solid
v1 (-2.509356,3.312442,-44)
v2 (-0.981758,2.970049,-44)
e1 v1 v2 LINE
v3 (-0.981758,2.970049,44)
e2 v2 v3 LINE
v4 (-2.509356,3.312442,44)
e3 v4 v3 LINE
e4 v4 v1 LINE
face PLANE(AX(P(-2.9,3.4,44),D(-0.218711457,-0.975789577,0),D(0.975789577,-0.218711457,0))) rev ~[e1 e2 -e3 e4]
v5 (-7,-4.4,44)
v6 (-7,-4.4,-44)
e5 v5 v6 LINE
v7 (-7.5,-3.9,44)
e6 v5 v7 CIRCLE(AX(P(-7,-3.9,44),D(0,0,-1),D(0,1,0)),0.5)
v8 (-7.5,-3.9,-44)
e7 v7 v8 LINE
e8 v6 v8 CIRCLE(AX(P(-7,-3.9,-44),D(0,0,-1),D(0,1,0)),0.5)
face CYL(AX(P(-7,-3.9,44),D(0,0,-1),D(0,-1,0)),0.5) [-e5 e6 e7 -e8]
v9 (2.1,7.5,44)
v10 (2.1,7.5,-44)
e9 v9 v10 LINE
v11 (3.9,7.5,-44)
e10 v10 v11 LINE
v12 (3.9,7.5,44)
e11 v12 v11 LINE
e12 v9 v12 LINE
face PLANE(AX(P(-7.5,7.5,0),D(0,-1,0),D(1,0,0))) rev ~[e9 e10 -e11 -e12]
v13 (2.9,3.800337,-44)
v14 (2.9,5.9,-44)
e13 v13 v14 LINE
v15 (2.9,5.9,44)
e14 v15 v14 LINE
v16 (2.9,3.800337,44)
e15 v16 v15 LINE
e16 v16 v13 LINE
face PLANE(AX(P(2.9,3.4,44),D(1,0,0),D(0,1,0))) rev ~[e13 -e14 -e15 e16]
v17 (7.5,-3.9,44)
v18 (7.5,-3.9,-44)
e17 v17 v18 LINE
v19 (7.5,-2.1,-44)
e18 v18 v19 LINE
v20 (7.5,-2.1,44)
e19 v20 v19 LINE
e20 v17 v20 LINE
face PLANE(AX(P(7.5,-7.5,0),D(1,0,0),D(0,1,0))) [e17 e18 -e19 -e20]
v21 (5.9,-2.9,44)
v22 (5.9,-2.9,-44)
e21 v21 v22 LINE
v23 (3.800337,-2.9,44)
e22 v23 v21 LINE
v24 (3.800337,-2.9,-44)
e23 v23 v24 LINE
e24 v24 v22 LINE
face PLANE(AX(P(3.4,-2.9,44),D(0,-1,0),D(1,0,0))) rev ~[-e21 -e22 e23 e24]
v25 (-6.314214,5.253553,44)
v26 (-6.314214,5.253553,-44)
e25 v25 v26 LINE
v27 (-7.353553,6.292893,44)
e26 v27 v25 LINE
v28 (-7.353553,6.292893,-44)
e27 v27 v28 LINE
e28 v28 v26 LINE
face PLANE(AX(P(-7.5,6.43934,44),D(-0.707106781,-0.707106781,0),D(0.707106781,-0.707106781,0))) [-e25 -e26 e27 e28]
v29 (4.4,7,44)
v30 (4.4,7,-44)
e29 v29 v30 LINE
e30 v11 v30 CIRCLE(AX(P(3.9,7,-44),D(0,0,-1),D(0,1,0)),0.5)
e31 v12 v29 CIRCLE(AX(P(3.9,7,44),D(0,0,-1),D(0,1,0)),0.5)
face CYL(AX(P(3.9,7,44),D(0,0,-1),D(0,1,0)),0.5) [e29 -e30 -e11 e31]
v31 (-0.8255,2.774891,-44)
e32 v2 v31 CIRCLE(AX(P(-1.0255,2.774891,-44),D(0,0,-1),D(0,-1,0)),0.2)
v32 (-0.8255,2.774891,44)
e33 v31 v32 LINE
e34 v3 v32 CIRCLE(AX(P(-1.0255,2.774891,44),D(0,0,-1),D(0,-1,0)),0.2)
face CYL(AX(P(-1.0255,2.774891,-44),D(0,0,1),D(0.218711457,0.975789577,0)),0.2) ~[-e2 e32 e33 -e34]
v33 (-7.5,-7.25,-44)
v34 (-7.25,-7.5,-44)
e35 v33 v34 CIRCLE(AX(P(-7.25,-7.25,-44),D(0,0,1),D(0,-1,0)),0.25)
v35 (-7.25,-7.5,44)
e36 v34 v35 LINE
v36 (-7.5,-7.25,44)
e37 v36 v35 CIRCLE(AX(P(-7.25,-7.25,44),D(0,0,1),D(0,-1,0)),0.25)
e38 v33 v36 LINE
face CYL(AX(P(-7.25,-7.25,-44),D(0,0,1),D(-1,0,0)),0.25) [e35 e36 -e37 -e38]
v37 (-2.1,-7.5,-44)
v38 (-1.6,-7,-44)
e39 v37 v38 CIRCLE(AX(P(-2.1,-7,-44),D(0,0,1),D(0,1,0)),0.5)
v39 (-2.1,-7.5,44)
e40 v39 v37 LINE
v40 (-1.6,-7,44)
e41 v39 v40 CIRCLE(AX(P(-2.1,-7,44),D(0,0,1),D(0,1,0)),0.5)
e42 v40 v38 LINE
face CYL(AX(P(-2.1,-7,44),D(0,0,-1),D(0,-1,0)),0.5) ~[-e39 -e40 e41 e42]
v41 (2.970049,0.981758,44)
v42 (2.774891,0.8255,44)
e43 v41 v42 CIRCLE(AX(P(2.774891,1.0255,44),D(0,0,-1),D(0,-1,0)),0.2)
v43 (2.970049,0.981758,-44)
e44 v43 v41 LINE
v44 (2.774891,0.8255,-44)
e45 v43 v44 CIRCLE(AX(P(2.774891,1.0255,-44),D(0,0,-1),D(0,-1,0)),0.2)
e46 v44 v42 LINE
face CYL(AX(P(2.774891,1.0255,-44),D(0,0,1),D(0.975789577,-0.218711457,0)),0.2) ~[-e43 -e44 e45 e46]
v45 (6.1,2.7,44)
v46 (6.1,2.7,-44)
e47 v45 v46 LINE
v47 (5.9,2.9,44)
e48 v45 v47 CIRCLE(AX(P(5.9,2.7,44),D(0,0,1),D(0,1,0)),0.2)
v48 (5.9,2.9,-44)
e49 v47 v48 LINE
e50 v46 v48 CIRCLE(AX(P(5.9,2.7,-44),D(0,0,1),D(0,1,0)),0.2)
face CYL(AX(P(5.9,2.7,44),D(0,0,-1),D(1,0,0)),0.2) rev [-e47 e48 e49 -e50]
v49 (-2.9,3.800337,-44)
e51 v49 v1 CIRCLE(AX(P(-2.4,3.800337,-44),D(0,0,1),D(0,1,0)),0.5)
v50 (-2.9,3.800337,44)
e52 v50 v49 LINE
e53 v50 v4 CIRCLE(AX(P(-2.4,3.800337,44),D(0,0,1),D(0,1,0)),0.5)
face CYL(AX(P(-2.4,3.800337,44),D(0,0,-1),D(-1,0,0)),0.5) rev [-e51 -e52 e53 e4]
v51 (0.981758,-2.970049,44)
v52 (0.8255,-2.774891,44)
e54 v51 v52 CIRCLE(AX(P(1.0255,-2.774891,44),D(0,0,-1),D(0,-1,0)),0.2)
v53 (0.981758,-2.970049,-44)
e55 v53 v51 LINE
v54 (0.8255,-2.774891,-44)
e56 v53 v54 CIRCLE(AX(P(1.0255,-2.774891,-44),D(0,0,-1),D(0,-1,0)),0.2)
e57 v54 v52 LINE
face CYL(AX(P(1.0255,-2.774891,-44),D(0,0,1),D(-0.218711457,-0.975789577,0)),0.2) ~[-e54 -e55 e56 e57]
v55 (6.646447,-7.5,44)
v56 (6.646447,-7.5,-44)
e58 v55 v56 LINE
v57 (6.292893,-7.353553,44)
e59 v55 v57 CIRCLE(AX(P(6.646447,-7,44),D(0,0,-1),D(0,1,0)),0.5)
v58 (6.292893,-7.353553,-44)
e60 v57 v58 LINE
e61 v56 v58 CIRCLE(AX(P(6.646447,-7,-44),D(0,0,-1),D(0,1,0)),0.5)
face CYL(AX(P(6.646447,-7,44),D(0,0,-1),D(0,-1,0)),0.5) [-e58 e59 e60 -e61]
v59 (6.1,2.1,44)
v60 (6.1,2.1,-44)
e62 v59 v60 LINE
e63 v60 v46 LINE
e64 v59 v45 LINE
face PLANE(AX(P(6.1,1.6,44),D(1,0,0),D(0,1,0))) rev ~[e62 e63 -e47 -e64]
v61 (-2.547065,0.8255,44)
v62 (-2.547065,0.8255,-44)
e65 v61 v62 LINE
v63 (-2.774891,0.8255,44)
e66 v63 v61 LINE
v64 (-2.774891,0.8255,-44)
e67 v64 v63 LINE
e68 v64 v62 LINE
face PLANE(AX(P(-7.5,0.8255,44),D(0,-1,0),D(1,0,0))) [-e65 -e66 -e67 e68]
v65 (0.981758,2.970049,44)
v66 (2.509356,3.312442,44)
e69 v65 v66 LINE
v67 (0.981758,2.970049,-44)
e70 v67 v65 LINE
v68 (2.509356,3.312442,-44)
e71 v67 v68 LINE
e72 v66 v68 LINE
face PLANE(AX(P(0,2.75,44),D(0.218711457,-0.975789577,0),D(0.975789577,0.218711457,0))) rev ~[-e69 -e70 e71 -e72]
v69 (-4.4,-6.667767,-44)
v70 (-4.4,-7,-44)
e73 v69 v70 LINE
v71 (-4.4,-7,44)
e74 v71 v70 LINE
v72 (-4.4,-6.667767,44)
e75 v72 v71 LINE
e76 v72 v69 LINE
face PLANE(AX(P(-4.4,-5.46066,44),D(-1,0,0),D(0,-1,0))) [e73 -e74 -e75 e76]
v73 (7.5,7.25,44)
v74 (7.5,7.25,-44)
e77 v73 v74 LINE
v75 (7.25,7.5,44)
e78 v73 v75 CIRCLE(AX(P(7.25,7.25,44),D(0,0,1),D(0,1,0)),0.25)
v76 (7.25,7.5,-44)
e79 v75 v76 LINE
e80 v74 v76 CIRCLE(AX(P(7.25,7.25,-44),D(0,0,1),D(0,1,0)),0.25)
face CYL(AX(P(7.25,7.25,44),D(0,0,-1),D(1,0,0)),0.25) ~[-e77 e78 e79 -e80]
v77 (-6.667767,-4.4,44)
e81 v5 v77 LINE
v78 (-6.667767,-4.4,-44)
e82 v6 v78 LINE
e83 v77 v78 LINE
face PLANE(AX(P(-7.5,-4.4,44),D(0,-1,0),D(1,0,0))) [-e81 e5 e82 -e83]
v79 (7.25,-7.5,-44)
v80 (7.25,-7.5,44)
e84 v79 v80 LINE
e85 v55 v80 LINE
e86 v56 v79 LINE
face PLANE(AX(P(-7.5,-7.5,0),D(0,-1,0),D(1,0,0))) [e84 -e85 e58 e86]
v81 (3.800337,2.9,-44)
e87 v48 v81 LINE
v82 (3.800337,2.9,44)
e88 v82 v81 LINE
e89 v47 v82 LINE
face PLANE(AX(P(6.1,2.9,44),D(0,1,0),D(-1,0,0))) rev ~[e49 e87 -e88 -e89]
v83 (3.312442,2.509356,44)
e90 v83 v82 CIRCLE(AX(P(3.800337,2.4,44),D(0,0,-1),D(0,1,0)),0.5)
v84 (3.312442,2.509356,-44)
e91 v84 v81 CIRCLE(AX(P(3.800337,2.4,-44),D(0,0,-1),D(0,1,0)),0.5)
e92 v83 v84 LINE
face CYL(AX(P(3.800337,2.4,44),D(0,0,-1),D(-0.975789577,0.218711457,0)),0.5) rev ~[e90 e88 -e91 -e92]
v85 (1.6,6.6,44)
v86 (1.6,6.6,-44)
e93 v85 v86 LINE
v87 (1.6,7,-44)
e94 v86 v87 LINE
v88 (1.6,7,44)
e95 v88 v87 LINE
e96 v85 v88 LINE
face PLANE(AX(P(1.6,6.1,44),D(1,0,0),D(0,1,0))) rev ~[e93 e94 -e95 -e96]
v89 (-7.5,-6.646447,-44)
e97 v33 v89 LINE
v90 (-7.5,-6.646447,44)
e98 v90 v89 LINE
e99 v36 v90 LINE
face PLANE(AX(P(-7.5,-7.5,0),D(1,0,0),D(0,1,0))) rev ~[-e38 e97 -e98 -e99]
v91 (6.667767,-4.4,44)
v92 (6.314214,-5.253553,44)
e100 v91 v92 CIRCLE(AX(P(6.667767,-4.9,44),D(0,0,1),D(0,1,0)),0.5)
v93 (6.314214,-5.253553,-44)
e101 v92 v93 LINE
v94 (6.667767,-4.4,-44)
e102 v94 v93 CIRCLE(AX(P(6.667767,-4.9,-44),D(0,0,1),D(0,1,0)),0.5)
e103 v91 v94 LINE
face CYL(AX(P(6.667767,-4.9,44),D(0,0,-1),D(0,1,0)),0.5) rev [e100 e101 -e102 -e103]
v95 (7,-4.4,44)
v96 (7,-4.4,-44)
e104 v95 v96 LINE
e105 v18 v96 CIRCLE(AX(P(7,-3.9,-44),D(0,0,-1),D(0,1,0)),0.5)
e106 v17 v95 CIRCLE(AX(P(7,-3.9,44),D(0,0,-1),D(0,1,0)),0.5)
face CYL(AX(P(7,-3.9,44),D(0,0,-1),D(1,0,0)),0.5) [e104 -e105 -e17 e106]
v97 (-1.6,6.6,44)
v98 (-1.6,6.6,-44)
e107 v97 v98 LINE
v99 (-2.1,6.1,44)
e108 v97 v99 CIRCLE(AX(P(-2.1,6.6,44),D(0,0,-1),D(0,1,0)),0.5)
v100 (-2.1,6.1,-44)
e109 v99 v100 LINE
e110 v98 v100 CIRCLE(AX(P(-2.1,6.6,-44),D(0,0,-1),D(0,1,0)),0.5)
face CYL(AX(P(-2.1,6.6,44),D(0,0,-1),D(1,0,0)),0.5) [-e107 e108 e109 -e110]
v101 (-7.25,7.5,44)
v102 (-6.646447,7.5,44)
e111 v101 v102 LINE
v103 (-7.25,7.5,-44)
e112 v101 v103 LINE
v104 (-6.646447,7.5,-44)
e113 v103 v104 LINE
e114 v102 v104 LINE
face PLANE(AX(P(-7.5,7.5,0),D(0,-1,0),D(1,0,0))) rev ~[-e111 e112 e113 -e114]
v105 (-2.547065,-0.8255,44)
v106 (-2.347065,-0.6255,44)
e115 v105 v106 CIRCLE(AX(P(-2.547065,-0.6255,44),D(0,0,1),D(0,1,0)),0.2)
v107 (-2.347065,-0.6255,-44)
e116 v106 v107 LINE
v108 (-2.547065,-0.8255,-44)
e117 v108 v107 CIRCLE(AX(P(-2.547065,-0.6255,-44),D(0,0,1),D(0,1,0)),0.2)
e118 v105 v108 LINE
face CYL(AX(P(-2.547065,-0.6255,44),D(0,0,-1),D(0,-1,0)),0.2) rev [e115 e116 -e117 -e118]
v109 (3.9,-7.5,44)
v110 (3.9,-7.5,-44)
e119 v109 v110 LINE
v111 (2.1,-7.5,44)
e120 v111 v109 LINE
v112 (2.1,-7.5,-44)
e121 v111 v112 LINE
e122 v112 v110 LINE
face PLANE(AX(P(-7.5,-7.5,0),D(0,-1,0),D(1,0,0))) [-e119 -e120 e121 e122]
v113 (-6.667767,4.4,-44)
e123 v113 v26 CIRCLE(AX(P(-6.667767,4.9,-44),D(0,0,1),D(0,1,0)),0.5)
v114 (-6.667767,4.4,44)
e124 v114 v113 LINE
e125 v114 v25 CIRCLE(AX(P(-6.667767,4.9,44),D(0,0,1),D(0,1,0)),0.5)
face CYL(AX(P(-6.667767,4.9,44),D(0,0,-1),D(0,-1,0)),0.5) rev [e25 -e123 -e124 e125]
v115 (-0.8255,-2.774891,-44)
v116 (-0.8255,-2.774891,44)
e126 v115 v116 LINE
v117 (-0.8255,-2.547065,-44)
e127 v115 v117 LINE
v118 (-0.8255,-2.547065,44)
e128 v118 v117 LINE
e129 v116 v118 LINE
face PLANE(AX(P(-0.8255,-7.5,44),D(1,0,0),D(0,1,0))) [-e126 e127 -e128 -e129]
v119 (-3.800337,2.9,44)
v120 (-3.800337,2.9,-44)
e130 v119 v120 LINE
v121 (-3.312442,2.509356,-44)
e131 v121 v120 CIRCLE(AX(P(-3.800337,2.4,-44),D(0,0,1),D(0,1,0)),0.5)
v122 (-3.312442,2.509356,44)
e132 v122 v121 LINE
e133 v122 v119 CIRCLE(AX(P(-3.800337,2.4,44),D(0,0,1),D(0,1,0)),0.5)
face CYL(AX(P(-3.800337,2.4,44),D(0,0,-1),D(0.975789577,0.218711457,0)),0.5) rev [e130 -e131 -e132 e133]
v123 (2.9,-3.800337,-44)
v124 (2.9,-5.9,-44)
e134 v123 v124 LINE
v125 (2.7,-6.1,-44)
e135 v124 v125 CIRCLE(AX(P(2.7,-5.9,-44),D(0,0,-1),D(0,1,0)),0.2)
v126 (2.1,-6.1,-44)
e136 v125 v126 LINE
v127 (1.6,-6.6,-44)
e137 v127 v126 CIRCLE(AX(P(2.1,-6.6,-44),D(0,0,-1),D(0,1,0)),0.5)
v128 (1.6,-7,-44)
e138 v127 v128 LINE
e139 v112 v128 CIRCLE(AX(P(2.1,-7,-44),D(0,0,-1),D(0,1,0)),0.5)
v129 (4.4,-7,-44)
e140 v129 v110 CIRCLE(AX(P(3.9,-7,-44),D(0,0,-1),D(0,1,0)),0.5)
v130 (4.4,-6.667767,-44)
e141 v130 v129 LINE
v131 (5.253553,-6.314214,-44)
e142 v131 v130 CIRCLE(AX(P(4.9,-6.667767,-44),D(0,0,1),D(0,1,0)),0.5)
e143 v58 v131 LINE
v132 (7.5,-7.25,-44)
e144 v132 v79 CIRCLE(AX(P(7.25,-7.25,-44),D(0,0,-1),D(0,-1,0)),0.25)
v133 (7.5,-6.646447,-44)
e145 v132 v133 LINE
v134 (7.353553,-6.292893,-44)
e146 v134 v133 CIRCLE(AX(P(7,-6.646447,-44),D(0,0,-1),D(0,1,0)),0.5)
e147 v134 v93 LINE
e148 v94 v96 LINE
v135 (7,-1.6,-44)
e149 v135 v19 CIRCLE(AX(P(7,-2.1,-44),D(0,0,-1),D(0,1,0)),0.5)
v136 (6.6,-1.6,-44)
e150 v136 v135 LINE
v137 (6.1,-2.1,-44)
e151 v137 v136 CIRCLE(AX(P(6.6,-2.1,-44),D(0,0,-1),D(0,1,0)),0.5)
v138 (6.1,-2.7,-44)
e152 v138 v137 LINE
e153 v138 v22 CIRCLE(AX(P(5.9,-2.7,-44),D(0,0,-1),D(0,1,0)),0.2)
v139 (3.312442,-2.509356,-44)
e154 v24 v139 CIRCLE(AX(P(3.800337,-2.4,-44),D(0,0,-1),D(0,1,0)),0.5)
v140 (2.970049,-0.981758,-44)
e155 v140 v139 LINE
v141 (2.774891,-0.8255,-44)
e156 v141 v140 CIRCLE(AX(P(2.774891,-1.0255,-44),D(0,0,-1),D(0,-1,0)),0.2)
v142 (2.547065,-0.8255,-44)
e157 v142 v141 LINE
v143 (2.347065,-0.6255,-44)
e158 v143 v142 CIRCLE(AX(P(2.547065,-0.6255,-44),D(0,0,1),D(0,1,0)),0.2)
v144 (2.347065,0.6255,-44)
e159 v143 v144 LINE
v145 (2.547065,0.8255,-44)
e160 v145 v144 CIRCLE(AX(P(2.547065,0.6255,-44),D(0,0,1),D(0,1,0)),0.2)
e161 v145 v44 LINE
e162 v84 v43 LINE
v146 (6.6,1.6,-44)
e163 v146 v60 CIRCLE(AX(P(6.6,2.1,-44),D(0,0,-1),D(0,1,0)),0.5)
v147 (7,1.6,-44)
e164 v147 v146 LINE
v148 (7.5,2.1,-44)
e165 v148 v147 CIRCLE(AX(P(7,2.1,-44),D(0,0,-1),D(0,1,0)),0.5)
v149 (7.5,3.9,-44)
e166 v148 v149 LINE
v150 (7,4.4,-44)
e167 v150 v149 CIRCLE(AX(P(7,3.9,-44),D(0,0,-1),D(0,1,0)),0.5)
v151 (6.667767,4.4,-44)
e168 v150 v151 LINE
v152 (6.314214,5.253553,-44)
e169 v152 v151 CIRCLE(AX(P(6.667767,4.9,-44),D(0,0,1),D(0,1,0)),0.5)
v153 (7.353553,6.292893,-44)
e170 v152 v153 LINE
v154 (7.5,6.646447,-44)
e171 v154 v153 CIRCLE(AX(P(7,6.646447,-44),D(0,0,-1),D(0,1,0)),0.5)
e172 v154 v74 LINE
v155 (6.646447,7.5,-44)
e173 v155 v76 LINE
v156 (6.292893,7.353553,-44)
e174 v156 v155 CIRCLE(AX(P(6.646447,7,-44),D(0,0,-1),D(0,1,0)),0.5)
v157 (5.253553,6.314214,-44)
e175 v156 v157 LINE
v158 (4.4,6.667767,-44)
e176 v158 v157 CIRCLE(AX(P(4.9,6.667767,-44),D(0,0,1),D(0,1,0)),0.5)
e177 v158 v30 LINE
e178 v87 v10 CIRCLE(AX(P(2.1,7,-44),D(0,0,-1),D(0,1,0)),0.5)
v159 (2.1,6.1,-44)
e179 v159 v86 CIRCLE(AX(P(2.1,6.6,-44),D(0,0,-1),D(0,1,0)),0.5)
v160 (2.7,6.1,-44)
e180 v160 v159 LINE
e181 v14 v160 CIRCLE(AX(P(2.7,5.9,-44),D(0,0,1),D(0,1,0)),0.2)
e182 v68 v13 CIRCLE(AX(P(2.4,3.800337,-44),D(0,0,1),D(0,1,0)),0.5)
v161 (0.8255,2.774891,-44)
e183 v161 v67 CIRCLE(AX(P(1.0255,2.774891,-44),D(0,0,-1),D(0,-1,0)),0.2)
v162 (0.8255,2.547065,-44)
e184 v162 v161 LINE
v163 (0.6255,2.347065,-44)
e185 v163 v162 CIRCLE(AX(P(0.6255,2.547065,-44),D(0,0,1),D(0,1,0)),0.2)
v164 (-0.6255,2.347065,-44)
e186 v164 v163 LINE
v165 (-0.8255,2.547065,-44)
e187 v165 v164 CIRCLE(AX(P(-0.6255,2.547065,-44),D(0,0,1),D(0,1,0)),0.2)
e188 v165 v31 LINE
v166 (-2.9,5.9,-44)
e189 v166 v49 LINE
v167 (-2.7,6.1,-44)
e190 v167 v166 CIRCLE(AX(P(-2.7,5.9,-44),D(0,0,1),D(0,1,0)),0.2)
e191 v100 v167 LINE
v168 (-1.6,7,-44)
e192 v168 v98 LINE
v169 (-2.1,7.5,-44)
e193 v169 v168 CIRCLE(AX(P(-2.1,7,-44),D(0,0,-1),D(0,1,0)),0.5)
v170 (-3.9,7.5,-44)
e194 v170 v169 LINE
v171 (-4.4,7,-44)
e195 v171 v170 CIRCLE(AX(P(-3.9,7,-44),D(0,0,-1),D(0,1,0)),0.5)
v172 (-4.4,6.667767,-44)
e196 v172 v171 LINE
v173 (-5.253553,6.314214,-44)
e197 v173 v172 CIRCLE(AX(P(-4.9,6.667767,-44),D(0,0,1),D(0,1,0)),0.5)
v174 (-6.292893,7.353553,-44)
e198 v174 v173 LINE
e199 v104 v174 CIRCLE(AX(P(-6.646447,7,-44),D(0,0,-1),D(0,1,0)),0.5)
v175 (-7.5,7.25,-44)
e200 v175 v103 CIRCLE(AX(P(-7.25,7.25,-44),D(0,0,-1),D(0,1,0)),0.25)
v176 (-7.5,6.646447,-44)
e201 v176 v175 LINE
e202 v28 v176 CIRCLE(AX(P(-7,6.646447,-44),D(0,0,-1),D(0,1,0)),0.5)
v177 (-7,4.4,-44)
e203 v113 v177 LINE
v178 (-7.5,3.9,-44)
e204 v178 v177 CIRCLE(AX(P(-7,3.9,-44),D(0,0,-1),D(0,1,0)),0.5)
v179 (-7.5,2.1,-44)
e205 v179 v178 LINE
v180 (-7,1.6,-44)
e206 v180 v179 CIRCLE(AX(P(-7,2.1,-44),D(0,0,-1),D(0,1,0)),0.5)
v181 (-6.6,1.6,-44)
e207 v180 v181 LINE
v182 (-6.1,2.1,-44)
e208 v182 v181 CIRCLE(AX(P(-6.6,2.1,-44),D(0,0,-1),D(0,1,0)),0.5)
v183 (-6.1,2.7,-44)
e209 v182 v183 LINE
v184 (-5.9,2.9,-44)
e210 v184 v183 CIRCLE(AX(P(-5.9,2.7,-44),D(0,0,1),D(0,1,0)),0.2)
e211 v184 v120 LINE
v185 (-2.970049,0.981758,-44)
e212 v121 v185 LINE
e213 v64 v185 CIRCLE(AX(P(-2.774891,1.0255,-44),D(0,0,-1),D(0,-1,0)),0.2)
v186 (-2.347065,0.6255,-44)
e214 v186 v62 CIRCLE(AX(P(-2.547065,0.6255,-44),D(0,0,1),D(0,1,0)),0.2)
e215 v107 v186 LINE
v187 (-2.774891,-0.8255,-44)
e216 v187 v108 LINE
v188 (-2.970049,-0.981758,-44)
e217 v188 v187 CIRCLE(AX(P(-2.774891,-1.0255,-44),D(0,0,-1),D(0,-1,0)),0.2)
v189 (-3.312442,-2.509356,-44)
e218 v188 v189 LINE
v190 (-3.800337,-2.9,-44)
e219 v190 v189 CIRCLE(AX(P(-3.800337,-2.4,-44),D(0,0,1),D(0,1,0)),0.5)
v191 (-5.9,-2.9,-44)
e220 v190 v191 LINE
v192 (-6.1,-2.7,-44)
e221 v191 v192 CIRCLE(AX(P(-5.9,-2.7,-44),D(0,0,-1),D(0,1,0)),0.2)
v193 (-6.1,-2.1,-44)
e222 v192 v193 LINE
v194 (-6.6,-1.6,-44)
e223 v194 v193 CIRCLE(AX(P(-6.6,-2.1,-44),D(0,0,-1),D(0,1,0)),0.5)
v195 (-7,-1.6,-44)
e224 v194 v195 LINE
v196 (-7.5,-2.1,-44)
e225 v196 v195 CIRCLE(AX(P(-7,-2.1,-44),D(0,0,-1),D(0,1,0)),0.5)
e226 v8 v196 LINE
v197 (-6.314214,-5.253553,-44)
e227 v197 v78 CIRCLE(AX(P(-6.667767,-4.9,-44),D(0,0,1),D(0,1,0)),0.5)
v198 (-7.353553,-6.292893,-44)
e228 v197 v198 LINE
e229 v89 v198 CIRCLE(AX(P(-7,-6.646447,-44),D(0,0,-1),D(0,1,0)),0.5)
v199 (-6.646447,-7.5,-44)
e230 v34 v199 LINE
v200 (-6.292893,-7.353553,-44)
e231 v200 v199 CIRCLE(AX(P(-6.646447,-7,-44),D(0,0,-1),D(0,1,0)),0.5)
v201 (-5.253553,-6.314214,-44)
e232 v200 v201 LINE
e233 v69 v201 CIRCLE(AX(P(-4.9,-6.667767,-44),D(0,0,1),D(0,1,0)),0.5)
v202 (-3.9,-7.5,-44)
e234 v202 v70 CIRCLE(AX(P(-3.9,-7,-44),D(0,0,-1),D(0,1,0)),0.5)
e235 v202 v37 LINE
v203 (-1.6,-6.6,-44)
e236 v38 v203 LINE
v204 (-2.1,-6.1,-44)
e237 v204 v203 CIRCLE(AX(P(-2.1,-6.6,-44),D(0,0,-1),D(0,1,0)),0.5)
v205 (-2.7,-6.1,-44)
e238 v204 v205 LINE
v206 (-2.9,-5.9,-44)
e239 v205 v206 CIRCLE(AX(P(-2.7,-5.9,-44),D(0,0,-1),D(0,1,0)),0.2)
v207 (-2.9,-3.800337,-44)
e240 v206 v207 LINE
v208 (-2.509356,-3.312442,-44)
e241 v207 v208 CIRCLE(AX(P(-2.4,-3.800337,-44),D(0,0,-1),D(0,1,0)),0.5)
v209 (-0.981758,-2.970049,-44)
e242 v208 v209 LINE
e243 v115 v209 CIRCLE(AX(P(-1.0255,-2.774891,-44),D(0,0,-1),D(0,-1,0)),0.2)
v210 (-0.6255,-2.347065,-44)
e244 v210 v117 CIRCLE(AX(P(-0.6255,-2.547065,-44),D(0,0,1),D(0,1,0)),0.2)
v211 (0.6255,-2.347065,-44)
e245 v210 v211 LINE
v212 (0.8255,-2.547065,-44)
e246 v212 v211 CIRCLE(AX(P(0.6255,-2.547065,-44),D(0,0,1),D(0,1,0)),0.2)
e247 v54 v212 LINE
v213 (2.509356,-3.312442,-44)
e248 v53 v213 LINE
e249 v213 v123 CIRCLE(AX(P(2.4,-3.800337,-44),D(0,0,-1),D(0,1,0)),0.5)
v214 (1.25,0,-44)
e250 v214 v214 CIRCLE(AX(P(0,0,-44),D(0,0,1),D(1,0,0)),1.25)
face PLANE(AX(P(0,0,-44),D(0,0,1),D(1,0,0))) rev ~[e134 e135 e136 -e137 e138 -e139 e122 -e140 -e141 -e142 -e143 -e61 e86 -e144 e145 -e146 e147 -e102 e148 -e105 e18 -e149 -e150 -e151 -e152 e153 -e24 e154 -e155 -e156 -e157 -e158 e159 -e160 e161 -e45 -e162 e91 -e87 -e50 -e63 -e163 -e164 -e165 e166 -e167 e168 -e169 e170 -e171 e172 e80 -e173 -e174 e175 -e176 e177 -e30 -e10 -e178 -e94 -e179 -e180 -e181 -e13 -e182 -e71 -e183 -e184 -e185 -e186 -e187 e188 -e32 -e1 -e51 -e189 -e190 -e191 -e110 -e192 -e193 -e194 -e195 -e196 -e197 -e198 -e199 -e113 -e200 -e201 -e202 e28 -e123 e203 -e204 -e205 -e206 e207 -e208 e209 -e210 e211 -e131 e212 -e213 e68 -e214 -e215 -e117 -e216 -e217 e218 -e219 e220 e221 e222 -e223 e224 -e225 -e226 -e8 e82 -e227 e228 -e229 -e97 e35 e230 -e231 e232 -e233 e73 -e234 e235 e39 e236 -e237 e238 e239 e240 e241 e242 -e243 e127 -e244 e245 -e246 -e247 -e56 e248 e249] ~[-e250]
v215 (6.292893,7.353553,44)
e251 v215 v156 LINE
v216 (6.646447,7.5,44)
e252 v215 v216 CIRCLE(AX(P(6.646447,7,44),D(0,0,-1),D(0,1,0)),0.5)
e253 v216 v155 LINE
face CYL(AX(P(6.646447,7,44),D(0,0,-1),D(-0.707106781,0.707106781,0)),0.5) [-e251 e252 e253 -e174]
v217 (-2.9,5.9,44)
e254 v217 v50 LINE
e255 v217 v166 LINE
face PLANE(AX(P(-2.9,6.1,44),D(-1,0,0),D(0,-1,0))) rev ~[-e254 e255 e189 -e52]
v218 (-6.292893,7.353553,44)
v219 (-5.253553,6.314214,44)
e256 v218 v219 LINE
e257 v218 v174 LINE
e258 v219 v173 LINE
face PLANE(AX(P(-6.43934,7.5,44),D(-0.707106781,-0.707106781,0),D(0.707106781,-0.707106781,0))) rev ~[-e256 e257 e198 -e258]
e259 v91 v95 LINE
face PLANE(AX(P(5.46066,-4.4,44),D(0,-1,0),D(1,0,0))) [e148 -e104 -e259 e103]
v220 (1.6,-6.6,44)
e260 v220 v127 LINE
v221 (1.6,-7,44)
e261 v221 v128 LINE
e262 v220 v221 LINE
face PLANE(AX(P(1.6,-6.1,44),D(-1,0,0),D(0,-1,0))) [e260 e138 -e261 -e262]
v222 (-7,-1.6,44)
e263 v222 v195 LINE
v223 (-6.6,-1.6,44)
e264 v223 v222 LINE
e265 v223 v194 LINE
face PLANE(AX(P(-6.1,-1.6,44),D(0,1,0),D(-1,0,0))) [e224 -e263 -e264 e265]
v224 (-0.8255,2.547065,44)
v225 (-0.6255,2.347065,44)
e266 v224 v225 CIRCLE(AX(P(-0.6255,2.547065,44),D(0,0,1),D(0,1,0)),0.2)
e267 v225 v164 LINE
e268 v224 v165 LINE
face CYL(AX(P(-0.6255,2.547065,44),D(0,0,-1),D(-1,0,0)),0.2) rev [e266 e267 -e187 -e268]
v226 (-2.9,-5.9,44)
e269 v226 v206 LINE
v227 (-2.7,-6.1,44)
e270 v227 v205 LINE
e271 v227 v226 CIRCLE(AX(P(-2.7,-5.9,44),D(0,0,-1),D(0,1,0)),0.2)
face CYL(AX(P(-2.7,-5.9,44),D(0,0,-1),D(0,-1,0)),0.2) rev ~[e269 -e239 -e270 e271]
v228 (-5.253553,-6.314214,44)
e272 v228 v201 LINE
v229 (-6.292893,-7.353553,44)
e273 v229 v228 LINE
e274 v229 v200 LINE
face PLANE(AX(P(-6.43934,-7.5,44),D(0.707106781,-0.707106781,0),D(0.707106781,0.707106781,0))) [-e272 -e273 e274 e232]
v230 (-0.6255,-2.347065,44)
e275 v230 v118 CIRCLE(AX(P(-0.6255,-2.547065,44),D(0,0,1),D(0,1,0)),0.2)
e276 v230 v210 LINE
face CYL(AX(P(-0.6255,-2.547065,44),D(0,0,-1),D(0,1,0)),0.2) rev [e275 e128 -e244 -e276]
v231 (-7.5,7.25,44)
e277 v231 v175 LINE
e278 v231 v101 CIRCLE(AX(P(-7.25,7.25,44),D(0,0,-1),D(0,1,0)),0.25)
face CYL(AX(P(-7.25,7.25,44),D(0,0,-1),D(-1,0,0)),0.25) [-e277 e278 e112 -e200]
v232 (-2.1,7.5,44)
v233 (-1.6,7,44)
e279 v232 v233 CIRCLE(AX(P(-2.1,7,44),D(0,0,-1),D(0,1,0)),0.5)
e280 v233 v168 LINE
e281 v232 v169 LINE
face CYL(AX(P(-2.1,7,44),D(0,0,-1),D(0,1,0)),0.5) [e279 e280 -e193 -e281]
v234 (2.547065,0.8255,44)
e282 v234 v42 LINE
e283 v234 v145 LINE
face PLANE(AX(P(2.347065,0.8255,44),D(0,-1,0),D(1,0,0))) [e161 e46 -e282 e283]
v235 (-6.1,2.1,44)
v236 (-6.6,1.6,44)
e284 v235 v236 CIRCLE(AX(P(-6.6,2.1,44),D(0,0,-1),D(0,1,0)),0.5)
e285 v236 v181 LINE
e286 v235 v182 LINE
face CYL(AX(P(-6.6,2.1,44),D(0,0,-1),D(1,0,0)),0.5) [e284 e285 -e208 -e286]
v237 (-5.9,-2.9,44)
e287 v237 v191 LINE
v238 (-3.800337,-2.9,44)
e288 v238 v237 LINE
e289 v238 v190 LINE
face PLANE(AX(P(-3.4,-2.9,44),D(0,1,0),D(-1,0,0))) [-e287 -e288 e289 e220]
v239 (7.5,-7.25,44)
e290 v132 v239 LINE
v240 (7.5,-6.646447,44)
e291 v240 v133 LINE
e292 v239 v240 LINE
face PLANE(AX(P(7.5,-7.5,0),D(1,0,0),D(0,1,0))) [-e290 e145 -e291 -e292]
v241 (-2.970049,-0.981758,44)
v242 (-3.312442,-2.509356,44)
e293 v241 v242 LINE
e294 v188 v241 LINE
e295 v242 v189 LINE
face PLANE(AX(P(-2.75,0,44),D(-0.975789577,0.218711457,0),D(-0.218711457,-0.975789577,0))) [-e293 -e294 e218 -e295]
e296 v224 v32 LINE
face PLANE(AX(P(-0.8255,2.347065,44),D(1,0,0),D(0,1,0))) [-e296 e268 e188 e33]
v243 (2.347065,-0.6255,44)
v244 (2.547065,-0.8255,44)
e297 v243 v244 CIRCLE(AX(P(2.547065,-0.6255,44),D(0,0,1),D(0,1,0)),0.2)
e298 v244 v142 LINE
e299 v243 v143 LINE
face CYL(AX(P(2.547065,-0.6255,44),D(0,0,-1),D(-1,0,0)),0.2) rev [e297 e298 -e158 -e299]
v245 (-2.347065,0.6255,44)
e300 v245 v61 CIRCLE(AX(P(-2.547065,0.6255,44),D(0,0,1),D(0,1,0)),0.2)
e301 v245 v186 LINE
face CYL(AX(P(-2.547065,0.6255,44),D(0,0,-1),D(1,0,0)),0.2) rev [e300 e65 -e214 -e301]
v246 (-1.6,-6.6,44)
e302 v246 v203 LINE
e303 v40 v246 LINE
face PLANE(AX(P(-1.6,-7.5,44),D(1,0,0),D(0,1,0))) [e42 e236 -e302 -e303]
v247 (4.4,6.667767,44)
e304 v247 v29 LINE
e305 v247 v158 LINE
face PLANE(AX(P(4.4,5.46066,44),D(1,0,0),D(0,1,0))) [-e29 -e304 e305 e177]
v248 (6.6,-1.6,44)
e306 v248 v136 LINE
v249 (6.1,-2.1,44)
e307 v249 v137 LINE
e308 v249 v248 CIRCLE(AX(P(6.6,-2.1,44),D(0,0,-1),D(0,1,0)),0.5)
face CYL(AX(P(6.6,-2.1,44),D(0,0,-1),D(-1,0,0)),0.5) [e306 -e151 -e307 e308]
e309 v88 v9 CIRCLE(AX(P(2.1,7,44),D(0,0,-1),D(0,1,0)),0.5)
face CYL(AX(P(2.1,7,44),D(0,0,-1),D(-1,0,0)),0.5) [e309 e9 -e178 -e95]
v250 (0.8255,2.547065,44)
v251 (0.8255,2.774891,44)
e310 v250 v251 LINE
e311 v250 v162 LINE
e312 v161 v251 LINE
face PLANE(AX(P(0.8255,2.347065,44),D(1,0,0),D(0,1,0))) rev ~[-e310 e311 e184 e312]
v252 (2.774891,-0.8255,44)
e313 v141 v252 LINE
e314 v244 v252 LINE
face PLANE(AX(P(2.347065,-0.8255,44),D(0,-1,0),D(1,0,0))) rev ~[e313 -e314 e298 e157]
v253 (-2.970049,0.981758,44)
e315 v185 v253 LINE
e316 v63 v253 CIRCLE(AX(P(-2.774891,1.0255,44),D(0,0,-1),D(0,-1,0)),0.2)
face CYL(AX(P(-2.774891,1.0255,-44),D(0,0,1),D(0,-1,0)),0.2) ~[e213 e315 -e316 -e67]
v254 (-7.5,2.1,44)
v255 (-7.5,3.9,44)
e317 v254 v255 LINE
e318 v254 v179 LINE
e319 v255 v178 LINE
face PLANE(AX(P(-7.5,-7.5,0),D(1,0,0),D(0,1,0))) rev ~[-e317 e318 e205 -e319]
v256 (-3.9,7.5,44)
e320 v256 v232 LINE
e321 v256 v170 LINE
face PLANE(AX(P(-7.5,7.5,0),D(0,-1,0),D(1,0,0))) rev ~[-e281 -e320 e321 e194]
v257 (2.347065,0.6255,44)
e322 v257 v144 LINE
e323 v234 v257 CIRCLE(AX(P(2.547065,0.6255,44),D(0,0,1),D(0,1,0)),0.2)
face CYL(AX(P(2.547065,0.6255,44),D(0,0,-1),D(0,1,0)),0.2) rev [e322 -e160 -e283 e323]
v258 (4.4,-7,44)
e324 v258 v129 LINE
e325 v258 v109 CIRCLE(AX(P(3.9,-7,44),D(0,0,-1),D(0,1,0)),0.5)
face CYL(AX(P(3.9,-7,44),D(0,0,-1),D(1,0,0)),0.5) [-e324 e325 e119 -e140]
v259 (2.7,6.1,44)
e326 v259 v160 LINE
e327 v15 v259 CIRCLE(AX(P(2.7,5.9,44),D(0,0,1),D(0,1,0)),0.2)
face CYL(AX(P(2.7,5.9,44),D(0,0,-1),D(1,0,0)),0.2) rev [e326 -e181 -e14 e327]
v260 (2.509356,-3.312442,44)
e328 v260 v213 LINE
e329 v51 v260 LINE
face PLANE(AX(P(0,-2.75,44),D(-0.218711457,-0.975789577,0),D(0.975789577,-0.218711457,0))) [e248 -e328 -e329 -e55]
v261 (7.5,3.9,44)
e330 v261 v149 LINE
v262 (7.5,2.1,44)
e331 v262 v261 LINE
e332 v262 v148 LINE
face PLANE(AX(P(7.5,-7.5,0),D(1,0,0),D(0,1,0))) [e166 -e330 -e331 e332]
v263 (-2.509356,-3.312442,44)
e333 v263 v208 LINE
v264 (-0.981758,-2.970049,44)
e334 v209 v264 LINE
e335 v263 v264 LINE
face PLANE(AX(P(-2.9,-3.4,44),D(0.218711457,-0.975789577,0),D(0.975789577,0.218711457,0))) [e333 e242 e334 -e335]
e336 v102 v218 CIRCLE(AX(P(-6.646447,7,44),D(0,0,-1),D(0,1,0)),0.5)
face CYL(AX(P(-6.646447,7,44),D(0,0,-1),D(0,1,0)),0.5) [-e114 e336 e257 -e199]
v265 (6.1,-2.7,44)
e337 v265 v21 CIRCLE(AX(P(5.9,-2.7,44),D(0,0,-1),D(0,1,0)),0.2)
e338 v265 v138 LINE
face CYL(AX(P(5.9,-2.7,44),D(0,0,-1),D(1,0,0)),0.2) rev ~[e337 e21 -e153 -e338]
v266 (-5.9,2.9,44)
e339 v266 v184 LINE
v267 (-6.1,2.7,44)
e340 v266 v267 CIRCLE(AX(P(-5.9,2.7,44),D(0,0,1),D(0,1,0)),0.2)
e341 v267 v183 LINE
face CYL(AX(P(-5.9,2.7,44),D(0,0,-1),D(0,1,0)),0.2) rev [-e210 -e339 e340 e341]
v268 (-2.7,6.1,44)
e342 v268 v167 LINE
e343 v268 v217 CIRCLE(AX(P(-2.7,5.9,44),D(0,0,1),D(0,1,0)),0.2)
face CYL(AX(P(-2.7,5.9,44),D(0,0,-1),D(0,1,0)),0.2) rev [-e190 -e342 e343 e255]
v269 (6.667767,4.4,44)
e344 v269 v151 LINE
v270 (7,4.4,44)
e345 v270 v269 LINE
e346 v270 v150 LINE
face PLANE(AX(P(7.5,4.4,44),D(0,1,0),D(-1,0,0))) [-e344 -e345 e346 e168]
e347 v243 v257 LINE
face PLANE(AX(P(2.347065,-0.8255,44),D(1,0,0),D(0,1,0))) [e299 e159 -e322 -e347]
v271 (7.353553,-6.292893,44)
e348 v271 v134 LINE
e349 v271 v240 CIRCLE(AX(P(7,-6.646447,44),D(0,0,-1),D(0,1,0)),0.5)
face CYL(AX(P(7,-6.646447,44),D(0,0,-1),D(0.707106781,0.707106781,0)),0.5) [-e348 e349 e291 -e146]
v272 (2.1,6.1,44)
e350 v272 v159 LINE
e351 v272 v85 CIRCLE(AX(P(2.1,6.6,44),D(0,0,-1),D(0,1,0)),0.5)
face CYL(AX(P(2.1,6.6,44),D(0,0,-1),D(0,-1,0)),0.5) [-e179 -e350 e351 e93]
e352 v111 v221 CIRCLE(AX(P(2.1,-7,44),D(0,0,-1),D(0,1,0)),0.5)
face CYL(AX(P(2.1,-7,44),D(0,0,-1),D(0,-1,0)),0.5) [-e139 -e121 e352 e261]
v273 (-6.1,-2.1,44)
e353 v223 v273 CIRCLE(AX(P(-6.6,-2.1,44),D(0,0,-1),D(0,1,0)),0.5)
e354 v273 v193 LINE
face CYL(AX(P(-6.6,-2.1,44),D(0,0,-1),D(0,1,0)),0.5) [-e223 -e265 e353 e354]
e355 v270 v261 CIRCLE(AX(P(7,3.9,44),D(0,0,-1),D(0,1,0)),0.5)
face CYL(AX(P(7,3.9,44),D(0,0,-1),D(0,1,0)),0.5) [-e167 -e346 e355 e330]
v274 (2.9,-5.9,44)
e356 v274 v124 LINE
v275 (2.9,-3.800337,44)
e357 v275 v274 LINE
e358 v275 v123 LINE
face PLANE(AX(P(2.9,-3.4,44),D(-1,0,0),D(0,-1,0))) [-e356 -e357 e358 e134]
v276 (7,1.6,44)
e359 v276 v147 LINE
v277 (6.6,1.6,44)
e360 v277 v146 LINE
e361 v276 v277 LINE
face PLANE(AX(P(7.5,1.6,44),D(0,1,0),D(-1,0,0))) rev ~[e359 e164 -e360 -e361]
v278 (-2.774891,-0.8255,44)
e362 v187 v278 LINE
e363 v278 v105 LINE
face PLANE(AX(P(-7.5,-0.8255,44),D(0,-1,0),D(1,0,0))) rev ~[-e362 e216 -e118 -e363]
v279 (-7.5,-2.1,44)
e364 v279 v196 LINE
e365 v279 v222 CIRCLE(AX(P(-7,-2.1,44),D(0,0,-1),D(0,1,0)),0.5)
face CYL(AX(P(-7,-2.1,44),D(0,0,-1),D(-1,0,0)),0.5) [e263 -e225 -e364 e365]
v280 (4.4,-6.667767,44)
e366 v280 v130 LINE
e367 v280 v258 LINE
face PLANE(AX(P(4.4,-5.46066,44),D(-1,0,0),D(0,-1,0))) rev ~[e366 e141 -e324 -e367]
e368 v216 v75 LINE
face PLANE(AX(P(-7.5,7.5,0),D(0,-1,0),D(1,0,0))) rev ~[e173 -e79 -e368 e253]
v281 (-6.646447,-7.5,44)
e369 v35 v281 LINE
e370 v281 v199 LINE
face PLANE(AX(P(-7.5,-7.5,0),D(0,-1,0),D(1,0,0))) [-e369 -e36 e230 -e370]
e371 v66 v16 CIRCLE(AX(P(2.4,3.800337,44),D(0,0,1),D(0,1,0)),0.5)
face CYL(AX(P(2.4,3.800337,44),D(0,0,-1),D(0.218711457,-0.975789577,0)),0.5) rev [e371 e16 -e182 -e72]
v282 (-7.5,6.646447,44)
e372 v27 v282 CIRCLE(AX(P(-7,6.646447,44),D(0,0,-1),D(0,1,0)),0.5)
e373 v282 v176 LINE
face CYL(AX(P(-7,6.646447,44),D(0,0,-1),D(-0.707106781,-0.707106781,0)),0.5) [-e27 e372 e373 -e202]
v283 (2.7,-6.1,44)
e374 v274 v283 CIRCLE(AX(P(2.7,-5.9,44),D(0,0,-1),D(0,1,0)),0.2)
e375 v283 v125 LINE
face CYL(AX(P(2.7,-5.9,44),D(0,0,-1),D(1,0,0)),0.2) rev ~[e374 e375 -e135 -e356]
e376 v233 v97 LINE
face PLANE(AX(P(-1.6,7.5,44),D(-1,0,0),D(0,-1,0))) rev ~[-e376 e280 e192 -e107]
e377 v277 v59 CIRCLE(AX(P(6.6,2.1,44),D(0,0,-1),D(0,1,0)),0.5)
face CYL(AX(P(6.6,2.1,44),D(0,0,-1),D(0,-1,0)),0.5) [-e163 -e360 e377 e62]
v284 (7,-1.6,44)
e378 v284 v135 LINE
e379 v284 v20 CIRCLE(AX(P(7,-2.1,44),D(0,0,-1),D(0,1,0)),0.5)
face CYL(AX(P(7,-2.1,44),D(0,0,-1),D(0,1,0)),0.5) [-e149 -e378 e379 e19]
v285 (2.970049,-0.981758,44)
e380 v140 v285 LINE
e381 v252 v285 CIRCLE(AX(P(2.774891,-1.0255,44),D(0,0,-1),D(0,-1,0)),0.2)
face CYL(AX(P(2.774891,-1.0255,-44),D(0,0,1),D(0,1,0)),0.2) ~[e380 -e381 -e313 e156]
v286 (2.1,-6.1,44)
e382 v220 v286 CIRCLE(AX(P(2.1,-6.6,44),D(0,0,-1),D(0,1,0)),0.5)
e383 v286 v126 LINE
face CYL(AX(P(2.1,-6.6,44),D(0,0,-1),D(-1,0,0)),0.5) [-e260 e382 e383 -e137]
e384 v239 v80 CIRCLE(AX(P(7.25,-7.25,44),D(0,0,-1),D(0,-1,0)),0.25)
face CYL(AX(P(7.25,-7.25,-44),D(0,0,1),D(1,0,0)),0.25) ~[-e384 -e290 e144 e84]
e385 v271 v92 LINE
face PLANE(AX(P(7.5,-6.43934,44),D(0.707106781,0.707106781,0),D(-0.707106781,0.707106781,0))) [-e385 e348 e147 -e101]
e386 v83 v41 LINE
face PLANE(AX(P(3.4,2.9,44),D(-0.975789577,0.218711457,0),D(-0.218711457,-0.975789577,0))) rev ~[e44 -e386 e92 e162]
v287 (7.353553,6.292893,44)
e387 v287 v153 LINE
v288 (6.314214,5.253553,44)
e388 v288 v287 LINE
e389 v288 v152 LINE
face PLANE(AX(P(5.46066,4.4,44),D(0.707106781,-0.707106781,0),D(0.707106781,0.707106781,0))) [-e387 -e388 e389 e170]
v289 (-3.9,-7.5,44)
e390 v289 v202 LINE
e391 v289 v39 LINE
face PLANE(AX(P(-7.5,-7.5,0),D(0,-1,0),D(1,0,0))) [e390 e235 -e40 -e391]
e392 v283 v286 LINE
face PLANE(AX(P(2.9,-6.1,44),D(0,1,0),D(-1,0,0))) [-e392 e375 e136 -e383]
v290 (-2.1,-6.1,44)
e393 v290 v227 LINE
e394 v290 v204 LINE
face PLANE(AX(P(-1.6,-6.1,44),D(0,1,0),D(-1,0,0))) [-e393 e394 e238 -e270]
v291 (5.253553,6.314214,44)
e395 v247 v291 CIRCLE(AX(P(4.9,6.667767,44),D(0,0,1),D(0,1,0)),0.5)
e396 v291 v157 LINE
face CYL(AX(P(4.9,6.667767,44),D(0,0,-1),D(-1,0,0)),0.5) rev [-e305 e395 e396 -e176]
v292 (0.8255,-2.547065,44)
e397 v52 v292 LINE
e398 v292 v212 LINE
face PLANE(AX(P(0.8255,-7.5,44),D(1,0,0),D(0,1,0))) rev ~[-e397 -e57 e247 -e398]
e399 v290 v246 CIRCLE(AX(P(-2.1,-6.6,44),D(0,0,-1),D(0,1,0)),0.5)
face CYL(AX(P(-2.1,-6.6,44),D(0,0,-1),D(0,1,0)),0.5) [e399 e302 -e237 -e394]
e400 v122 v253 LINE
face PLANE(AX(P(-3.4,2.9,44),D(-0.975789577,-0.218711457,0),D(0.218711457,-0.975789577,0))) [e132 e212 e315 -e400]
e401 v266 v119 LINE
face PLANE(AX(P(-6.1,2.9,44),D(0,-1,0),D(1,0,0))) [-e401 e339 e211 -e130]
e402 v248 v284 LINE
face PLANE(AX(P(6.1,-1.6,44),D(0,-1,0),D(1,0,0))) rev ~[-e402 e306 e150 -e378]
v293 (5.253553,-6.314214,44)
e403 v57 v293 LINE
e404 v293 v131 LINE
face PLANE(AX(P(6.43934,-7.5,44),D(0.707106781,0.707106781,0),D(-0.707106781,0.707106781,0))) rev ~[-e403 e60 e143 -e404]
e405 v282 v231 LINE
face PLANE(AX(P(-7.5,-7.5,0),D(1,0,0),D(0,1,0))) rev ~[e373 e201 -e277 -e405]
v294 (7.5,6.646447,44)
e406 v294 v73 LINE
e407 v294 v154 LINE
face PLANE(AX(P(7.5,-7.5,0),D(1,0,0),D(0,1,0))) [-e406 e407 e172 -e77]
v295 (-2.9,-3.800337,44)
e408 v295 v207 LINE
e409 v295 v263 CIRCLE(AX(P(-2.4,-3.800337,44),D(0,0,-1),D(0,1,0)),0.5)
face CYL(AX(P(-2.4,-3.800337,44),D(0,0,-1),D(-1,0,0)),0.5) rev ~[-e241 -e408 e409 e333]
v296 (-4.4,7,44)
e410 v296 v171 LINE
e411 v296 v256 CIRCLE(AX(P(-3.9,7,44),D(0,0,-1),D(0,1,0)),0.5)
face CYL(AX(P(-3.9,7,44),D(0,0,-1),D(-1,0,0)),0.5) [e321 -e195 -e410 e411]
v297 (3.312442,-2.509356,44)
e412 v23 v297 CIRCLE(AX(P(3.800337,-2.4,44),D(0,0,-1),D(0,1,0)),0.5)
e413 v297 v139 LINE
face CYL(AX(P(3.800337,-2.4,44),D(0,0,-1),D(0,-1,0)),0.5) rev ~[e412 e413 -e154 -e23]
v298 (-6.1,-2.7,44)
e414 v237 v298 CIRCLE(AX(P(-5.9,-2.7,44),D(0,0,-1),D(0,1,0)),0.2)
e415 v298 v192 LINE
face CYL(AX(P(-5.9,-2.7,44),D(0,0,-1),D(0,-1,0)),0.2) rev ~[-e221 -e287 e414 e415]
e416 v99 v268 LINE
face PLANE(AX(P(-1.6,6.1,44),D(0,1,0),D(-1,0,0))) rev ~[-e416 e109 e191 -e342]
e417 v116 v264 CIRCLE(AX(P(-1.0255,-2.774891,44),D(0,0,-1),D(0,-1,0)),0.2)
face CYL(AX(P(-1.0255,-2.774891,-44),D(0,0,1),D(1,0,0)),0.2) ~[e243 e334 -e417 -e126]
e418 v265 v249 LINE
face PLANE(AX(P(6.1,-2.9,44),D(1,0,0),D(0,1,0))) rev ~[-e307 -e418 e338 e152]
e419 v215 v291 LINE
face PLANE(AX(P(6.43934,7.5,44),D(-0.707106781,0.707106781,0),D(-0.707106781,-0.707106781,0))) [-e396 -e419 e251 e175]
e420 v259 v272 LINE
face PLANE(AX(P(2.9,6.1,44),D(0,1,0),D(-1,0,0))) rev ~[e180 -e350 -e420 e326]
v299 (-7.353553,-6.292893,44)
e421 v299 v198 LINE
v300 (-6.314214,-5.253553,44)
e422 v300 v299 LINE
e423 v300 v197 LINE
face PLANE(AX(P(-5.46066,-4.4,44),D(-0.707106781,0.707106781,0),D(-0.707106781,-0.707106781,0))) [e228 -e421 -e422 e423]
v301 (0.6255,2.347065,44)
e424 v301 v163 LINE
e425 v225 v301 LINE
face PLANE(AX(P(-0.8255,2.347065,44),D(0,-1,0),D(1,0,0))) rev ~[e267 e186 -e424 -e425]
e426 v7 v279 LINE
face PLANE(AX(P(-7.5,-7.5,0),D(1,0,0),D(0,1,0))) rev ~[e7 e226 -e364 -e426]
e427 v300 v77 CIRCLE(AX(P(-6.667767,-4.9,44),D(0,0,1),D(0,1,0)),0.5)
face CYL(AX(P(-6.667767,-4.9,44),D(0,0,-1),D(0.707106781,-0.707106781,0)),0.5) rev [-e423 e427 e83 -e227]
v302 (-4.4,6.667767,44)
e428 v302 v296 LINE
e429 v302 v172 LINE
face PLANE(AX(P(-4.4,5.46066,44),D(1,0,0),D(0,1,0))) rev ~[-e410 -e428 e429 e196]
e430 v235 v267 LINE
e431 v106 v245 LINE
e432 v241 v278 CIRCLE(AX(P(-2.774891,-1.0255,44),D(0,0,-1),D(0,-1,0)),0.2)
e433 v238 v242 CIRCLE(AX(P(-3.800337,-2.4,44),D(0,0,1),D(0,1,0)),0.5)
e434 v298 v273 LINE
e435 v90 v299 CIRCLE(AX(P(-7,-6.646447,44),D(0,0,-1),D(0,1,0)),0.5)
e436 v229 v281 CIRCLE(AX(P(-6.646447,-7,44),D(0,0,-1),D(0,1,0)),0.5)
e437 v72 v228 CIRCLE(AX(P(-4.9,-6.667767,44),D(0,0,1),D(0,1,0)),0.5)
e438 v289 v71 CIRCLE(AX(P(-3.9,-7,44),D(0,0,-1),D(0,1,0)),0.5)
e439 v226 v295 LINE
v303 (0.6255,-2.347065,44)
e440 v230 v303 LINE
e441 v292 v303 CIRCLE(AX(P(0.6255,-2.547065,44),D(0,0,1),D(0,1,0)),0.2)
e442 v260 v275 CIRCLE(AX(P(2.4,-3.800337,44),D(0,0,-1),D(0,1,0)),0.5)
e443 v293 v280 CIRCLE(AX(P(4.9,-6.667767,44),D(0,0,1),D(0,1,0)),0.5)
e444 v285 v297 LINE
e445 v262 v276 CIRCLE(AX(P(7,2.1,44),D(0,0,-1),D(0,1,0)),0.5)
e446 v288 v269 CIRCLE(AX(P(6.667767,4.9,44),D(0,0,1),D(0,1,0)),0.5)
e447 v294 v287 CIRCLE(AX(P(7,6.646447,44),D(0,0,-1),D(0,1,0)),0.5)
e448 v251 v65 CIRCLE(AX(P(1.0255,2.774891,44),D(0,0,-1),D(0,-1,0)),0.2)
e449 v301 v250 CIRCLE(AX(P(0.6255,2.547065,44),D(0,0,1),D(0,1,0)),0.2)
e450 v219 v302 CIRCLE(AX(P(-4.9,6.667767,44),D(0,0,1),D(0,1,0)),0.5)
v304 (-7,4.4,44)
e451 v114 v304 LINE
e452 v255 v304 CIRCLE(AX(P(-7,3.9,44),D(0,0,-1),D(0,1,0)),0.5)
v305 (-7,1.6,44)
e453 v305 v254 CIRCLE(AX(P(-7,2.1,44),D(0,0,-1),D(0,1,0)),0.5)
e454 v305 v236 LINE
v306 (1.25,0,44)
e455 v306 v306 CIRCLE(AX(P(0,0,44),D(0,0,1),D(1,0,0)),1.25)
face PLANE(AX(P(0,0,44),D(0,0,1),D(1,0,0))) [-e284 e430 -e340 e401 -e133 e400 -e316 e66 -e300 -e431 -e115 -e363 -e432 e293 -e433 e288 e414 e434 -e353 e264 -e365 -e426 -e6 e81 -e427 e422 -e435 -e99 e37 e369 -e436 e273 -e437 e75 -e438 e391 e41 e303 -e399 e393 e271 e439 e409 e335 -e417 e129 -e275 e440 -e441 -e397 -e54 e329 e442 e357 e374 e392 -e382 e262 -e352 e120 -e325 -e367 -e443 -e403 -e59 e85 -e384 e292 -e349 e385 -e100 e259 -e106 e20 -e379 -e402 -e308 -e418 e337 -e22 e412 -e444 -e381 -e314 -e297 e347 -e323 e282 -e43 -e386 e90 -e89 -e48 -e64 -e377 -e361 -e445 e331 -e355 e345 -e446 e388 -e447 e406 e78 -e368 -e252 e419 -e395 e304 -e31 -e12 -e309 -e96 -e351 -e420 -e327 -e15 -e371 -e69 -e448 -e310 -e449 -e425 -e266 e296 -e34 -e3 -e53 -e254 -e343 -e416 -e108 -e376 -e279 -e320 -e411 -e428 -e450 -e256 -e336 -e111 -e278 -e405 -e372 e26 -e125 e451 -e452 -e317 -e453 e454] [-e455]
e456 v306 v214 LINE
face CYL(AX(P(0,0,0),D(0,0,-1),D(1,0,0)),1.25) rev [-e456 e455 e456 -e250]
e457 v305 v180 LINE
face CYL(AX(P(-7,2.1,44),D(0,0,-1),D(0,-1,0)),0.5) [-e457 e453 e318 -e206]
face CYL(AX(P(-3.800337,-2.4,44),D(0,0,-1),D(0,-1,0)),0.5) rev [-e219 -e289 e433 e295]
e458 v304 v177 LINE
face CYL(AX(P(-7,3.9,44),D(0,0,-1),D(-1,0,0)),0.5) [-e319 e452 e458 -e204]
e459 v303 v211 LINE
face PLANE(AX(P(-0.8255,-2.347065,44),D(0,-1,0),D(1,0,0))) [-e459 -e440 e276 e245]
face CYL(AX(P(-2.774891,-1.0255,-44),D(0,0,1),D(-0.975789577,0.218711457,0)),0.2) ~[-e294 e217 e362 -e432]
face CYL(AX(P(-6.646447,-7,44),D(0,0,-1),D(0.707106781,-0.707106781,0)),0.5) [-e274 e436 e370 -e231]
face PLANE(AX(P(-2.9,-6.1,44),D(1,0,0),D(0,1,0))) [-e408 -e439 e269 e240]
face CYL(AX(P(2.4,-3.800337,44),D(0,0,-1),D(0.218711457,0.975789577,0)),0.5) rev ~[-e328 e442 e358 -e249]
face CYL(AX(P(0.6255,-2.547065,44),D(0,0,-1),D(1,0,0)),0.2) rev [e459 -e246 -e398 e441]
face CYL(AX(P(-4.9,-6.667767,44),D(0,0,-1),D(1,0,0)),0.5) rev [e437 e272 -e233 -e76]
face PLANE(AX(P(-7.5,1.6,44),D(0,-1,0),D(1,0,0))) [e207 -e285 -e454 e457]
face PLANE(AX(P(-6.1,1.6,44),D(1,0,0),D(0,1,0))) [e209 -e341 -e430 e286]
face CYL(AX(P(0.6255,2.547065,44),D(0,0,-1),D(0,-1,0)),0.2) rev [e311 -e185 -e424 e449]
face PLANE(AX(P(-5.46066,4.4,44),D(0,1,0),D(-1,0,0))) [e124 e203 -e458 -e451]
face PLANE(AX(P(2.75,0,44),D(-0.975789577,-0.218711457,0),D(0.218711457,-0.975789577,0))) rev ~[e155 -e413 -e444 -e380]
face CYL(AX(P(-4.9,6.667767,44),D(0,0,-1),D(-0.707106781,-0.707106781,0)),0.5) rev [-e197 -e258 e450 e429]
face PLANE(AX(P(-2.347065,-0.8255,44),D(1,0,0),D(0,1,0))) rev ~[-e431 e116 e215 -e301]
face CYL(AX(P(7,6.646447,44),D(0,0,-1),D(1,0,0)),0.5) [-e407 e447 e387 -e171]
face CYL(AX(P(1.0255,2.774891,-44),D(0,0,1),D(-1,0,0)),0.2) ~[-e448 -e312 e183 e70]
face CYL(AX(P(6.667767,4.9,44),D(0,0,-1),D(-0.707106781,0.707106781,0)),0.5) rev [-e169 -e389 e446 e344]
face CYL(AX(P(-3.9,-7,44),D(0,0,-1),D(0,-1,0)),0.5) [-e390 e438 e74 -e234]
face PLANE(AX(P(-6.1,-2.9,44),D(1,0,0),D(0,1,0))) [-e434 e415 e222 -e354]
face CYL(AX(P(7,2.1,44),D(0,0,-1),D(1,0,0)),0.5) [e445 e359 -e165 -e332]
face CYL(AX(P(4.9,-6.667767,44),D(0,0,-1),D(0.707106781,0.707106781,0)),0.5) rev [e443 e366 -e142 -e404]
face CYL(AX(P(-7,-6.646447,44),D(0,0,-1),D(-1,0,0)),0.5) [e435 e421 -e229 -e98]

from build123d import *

# Parameters (mm, degrees)
SKETCH1_W           = 15
SKETCH1_H           = 15
SKETCH1_R           = 1.25
BOSS_EXTRUDE1_DEPTH = 44
FILLET1_R           = 0.25
CUT_EXTRUDE1_DEPTH  = 89
CUT_EXTRUDE3_DEPTH  = 89
FILLET3_R           = 0.5
FILLET4_R           = 0.5
FILLET5_R           = 3
FILLET6_R           = 0.2
CUT_EXTRUDE4_DEPTH  = 89
FILLET8_R           = 0.5
SKETCH6_W           = 5.1529354
SKETCH6_H           = 1.651
SKETCH6_W_2         = 1.651
SKETCH6_H_2         = 5.1529354
CUT_EXTRUDE5_DEPTH  = 89
FILLET10_R          = 0.2


with BuildPart() as part:
    # Sketch1 → Boss-Extrude1 (new body, symmetric)
    with BuildSketch(Plane.XY):
        Rectangle(SKETCH1_W, SKETCH1_H)
        Circle(SKETCH1_R, mode=Mode.SUBTRACT)
    extrude(amount=BOSS_EXTRUDE1_DEPTH, both=True)

    # Fillet1
    fillet1_edges = [part.edges().sort_by_distance(p)[0] for p in [
        (7.5, -7.5, 0),
        (-7.5, -7.5, 0),
        (-7.5, 7.5, 0),
        (7.5, 7.5, 0),
    ]]
    fillet(fillet1_edges, radius=FILLET1_R)

    # Sketch2 → Cut-Extrude1 (cut, through all)
    with BuildSketch(Plane.XY.offset(44)):
        Polygon((-7.5, 1.6), (-6.1, 1.6), (-6.1, 2.9), (-3.4, 2.9), (-3.4, -2.9), (-6.1, -2.9), (-6.1, -1.6), (-7.5, -1.6), align=None)
        Polygon((2.9, 6.1), (1.6, 6.1), (1.6, 7.5), (-1.6, 7.5), (-1.6, 6.1), (-2.9, 6.1), (-2.9, 3.4), (2.9, 3.4), align=None)
        Polygon((-1.6, -7.5), (-1.6, -6.1), (-2.9, -6.1), (-2.9, -3.4), (2.9, -3.4), (2.9, -6.1), (1.6, -6.1), (1.6, -7.5), align=None)
        Polygon((6.1, -2.9), (6.1, -1.6), (7.5, -1.6), (7.5, 1.6), (6.1, 1.6), (6.1, 2.9), (3.4, 2.9), (3.4, -2.9), align=None)
    extrude(amount=-CUT_EXTRUDE1_DEPTH, mode=Mode.SUBTRACT)

    # Sketch4 → Cut-Extrude3 (cut, through all)
    with BuildSketch(Plane.XY.offset(44)):
        Polygon((-3.4, 2.9), (-2.75, 0), (-3.4, -2.9), align=None)
        Polygon((-2.9, 3.4), (0, 2.75), (2.9, 3.4), align=None)
        Polygon((3.4, 2.9), (2.75, 0), (3.4, -2.9), align=None)
        Polygon((-2.9, -3.4), (0, -2.75), (2.9, -3.4), align=None)
    extrude(amount=-CUT_EXTRUDE3_DEPTH, mode=Mode.SUBTRACT)

    # Fillet3
    fillet3_edges = [part.edges().sort_by_distance(p)[0] for p in [
        (1.6, -7.5, 0),
        (-1.6, -7.5, 0),
        (-1.6, -6.1, 0),
        (1.6, -6.1, 0),
        (6.1, 1.6, 0),
        (7.5, 1.6, 0),
        (7.5, -1.6, 0),
        (6.1, -1.6, 0),
        (-7.5, -1.6, 0),
        (-7.5, 1.6, 0),
        (-6.1, 1.6, 0),
        (-6.1, -1.6, 0),
        (-1.6, 6.1, 0),
        (-1.6, 7.5, 0),
        (1.6, 7.5, 0),
        (1.6, 6.1, 0),
    ]]
    fillet(fillet3_edges, radius=FILLET3_R)

    # Fillet4
    fillet4_edges = [part.edges().sort_by_distance(p)[0] for p in [
        (-2.9, -3.4, 0),
        (2.9, -3.4, 0),
        (3.4, -2.9, 0),
        (3.4, 2.9, 0),
        (-3.4, 2.9, 0),
        (-3.4, -2.9, 0),
        (2.9, 3.4, 0),
        (-2.9, 3.4, 0),
    ]]
    fillet(fillet4_edges, radius=FILLET4_R)

    # Fillet5
    fillet5_edges = [part.edges().sort_by_distance(p)[0] for p in [
        (-2.75, 0, 0),
        (0, 2.75, 0),
        (2.75, 0, 0),
        (0, -2.75, 0),
    ]]
    fillet(fillet5_edges, radius=FILLET5_R)

    # Fillet6
    fillet6_edges = [part.edges().sort_by_distance(p)[0] for p in [
        (-2.9, -6.1, 0),
        (2.9, -6.1, 0),
        (6.1, -2.9, 0),
        (6.1, 2.9, 0),
        (-6.1, 2.9, 0),
        (-6.1, -2.9, 0),
        (2.9, 6.1, 0),
        (-2.9, 6.1, 0),
    ]]
    fillet(fillet6_edges, radius=FILLET6_R)

    # Sketch5 → Cut-Extrude4 (cut, through all)
    with BuildSketch(Plane.XY.offset(44)):
        Polygon((-7.5, 6.439339828), (-5.460660172, 4.4), (-7.5, 4.4), align=None)
        Polygon((-6.439339828, 7.5), (-4.4, 5.460660172), (-4.4, 7.5), align=None)
        Polygon((4.4, 7.5), (6.439339828, 7.5), (4.4, 5.460660172), align=None)
        Polygon((7.5, 6.439339828), (7.5, 4.4), (5.460660172, 4.4), align=None)
        Polygon((7.5, -6.439339828), (5.460660172, -4.4), (7.5, -4.4), align=None)
        Polygon((6.439339828, -7.5), (4.4, -5.460660172), (4.4, -7.5), align=None)
        Polygon((-4.4, -7.5), (-6.439339828, -7.5), (-4.4, -5.460660172), align=None)
        Polygon((-7.5, -6.439339828), (-7.5, -4.4), (-5.460660172, -4.4), align=None)
    extrude(amount=-CUT_EXTRUDE4_DEPTH, mode=Mode.SUBTRACT)

    # Fillet8
    fillet8_edges = [part.edges().sort_by_distance(p)[0] for p in [
        (-7.5, 4.4, 0),
        (-7.5, 6.439339828, 0),
        (-5.460660172, 4.4, 0),
        (7.5, -4.4, 0),
        (7.5, -6.439339828, 0),
        (5.460660172, -4.4, 0),
        (5.460660172, 4.4, 0),
        (7.5, 6.439339828, 0),
        (7.5, 4.4, 0),
        (-4.4, 7.5, 0),
        (-4.4, 5.460660172, 0),
        (-6.439339828, 7.5, 0),
        (-5.460660172, -4.4, 0),
        (-7.5, -6.439339828, 0),
        (-7.5, -4.4, 0),
        (4.4, 5.460660172, 0),
        (4.4, 7.5, 0),
        (6.439339828, 7.5, 0),
        (6.439339828, -7.5, 0),
        (4.4, -7.5, 0),
        (4.4, -5.460660172, 0),
        (-6.439339828, -7.5, 0),
        (-4.4, -5.460660172, 0),
        (-4.4, -7.5, 0),
    ]]
    fillet(fillet8_edges, radius=FILLET8_R)

    # Sketch6 → Cut-Extrude5 (cut, through all)
    with BuildSketch(Plane.XY.offset(44)):
        with Locations((4.9235323, 0)):
            Rectangle(SKETCH6_W, SKETCH6_H)
        with Locations((0, -4.9235323)):
            Rectangle(SKETCH6_W_2, SKETCH6_H_2)
        with Locations((-4.9235323, 0)):
            Rectangle(SKETCH6_W, SKETCH6_H)
        with Locations((0, 4.9235323)):
            Rectangle(SKETCH6_W_2, SKETCH6_H_2)
    extrude(amount=-CUT_EXTRUDE5_DEPTH, mode=Mode.SUBTRACT)

    # Fillet10
    fillet10_edges = [part.edges().sort_by_distance(p)[0] for p in [
        (0.8255, -2.935025862, 0),
        (-0.8255, -2.935025862, 0),
        (0.8255, -2.3470646, 0),
        (-0.8255, -2.3470646, 0),
        (2.935025862, 0.8255, 0),
        (2.935025862, -0.8255, 0),
        (2.3470646, 0.8255, 0),
        (2.3470646, -0.8255, 0),
        (-2.935025862, -0.8255, 0),
        (-2.935025862, 0.8255, 0),
        (-2.3470646, -0.8255, 0),
        (-2.3470646, 0.8255, 0),
        (-0.8255, 2.935025862, 0),
        (0.8255, 2.935025862, 0),
        (-0.8255, 2.3470646, 0),
        (0.8255, 2.3470646, 0),
    ]]
    fillet(fillet10_edges, radius=FILLET10_R)


solid = part.part
